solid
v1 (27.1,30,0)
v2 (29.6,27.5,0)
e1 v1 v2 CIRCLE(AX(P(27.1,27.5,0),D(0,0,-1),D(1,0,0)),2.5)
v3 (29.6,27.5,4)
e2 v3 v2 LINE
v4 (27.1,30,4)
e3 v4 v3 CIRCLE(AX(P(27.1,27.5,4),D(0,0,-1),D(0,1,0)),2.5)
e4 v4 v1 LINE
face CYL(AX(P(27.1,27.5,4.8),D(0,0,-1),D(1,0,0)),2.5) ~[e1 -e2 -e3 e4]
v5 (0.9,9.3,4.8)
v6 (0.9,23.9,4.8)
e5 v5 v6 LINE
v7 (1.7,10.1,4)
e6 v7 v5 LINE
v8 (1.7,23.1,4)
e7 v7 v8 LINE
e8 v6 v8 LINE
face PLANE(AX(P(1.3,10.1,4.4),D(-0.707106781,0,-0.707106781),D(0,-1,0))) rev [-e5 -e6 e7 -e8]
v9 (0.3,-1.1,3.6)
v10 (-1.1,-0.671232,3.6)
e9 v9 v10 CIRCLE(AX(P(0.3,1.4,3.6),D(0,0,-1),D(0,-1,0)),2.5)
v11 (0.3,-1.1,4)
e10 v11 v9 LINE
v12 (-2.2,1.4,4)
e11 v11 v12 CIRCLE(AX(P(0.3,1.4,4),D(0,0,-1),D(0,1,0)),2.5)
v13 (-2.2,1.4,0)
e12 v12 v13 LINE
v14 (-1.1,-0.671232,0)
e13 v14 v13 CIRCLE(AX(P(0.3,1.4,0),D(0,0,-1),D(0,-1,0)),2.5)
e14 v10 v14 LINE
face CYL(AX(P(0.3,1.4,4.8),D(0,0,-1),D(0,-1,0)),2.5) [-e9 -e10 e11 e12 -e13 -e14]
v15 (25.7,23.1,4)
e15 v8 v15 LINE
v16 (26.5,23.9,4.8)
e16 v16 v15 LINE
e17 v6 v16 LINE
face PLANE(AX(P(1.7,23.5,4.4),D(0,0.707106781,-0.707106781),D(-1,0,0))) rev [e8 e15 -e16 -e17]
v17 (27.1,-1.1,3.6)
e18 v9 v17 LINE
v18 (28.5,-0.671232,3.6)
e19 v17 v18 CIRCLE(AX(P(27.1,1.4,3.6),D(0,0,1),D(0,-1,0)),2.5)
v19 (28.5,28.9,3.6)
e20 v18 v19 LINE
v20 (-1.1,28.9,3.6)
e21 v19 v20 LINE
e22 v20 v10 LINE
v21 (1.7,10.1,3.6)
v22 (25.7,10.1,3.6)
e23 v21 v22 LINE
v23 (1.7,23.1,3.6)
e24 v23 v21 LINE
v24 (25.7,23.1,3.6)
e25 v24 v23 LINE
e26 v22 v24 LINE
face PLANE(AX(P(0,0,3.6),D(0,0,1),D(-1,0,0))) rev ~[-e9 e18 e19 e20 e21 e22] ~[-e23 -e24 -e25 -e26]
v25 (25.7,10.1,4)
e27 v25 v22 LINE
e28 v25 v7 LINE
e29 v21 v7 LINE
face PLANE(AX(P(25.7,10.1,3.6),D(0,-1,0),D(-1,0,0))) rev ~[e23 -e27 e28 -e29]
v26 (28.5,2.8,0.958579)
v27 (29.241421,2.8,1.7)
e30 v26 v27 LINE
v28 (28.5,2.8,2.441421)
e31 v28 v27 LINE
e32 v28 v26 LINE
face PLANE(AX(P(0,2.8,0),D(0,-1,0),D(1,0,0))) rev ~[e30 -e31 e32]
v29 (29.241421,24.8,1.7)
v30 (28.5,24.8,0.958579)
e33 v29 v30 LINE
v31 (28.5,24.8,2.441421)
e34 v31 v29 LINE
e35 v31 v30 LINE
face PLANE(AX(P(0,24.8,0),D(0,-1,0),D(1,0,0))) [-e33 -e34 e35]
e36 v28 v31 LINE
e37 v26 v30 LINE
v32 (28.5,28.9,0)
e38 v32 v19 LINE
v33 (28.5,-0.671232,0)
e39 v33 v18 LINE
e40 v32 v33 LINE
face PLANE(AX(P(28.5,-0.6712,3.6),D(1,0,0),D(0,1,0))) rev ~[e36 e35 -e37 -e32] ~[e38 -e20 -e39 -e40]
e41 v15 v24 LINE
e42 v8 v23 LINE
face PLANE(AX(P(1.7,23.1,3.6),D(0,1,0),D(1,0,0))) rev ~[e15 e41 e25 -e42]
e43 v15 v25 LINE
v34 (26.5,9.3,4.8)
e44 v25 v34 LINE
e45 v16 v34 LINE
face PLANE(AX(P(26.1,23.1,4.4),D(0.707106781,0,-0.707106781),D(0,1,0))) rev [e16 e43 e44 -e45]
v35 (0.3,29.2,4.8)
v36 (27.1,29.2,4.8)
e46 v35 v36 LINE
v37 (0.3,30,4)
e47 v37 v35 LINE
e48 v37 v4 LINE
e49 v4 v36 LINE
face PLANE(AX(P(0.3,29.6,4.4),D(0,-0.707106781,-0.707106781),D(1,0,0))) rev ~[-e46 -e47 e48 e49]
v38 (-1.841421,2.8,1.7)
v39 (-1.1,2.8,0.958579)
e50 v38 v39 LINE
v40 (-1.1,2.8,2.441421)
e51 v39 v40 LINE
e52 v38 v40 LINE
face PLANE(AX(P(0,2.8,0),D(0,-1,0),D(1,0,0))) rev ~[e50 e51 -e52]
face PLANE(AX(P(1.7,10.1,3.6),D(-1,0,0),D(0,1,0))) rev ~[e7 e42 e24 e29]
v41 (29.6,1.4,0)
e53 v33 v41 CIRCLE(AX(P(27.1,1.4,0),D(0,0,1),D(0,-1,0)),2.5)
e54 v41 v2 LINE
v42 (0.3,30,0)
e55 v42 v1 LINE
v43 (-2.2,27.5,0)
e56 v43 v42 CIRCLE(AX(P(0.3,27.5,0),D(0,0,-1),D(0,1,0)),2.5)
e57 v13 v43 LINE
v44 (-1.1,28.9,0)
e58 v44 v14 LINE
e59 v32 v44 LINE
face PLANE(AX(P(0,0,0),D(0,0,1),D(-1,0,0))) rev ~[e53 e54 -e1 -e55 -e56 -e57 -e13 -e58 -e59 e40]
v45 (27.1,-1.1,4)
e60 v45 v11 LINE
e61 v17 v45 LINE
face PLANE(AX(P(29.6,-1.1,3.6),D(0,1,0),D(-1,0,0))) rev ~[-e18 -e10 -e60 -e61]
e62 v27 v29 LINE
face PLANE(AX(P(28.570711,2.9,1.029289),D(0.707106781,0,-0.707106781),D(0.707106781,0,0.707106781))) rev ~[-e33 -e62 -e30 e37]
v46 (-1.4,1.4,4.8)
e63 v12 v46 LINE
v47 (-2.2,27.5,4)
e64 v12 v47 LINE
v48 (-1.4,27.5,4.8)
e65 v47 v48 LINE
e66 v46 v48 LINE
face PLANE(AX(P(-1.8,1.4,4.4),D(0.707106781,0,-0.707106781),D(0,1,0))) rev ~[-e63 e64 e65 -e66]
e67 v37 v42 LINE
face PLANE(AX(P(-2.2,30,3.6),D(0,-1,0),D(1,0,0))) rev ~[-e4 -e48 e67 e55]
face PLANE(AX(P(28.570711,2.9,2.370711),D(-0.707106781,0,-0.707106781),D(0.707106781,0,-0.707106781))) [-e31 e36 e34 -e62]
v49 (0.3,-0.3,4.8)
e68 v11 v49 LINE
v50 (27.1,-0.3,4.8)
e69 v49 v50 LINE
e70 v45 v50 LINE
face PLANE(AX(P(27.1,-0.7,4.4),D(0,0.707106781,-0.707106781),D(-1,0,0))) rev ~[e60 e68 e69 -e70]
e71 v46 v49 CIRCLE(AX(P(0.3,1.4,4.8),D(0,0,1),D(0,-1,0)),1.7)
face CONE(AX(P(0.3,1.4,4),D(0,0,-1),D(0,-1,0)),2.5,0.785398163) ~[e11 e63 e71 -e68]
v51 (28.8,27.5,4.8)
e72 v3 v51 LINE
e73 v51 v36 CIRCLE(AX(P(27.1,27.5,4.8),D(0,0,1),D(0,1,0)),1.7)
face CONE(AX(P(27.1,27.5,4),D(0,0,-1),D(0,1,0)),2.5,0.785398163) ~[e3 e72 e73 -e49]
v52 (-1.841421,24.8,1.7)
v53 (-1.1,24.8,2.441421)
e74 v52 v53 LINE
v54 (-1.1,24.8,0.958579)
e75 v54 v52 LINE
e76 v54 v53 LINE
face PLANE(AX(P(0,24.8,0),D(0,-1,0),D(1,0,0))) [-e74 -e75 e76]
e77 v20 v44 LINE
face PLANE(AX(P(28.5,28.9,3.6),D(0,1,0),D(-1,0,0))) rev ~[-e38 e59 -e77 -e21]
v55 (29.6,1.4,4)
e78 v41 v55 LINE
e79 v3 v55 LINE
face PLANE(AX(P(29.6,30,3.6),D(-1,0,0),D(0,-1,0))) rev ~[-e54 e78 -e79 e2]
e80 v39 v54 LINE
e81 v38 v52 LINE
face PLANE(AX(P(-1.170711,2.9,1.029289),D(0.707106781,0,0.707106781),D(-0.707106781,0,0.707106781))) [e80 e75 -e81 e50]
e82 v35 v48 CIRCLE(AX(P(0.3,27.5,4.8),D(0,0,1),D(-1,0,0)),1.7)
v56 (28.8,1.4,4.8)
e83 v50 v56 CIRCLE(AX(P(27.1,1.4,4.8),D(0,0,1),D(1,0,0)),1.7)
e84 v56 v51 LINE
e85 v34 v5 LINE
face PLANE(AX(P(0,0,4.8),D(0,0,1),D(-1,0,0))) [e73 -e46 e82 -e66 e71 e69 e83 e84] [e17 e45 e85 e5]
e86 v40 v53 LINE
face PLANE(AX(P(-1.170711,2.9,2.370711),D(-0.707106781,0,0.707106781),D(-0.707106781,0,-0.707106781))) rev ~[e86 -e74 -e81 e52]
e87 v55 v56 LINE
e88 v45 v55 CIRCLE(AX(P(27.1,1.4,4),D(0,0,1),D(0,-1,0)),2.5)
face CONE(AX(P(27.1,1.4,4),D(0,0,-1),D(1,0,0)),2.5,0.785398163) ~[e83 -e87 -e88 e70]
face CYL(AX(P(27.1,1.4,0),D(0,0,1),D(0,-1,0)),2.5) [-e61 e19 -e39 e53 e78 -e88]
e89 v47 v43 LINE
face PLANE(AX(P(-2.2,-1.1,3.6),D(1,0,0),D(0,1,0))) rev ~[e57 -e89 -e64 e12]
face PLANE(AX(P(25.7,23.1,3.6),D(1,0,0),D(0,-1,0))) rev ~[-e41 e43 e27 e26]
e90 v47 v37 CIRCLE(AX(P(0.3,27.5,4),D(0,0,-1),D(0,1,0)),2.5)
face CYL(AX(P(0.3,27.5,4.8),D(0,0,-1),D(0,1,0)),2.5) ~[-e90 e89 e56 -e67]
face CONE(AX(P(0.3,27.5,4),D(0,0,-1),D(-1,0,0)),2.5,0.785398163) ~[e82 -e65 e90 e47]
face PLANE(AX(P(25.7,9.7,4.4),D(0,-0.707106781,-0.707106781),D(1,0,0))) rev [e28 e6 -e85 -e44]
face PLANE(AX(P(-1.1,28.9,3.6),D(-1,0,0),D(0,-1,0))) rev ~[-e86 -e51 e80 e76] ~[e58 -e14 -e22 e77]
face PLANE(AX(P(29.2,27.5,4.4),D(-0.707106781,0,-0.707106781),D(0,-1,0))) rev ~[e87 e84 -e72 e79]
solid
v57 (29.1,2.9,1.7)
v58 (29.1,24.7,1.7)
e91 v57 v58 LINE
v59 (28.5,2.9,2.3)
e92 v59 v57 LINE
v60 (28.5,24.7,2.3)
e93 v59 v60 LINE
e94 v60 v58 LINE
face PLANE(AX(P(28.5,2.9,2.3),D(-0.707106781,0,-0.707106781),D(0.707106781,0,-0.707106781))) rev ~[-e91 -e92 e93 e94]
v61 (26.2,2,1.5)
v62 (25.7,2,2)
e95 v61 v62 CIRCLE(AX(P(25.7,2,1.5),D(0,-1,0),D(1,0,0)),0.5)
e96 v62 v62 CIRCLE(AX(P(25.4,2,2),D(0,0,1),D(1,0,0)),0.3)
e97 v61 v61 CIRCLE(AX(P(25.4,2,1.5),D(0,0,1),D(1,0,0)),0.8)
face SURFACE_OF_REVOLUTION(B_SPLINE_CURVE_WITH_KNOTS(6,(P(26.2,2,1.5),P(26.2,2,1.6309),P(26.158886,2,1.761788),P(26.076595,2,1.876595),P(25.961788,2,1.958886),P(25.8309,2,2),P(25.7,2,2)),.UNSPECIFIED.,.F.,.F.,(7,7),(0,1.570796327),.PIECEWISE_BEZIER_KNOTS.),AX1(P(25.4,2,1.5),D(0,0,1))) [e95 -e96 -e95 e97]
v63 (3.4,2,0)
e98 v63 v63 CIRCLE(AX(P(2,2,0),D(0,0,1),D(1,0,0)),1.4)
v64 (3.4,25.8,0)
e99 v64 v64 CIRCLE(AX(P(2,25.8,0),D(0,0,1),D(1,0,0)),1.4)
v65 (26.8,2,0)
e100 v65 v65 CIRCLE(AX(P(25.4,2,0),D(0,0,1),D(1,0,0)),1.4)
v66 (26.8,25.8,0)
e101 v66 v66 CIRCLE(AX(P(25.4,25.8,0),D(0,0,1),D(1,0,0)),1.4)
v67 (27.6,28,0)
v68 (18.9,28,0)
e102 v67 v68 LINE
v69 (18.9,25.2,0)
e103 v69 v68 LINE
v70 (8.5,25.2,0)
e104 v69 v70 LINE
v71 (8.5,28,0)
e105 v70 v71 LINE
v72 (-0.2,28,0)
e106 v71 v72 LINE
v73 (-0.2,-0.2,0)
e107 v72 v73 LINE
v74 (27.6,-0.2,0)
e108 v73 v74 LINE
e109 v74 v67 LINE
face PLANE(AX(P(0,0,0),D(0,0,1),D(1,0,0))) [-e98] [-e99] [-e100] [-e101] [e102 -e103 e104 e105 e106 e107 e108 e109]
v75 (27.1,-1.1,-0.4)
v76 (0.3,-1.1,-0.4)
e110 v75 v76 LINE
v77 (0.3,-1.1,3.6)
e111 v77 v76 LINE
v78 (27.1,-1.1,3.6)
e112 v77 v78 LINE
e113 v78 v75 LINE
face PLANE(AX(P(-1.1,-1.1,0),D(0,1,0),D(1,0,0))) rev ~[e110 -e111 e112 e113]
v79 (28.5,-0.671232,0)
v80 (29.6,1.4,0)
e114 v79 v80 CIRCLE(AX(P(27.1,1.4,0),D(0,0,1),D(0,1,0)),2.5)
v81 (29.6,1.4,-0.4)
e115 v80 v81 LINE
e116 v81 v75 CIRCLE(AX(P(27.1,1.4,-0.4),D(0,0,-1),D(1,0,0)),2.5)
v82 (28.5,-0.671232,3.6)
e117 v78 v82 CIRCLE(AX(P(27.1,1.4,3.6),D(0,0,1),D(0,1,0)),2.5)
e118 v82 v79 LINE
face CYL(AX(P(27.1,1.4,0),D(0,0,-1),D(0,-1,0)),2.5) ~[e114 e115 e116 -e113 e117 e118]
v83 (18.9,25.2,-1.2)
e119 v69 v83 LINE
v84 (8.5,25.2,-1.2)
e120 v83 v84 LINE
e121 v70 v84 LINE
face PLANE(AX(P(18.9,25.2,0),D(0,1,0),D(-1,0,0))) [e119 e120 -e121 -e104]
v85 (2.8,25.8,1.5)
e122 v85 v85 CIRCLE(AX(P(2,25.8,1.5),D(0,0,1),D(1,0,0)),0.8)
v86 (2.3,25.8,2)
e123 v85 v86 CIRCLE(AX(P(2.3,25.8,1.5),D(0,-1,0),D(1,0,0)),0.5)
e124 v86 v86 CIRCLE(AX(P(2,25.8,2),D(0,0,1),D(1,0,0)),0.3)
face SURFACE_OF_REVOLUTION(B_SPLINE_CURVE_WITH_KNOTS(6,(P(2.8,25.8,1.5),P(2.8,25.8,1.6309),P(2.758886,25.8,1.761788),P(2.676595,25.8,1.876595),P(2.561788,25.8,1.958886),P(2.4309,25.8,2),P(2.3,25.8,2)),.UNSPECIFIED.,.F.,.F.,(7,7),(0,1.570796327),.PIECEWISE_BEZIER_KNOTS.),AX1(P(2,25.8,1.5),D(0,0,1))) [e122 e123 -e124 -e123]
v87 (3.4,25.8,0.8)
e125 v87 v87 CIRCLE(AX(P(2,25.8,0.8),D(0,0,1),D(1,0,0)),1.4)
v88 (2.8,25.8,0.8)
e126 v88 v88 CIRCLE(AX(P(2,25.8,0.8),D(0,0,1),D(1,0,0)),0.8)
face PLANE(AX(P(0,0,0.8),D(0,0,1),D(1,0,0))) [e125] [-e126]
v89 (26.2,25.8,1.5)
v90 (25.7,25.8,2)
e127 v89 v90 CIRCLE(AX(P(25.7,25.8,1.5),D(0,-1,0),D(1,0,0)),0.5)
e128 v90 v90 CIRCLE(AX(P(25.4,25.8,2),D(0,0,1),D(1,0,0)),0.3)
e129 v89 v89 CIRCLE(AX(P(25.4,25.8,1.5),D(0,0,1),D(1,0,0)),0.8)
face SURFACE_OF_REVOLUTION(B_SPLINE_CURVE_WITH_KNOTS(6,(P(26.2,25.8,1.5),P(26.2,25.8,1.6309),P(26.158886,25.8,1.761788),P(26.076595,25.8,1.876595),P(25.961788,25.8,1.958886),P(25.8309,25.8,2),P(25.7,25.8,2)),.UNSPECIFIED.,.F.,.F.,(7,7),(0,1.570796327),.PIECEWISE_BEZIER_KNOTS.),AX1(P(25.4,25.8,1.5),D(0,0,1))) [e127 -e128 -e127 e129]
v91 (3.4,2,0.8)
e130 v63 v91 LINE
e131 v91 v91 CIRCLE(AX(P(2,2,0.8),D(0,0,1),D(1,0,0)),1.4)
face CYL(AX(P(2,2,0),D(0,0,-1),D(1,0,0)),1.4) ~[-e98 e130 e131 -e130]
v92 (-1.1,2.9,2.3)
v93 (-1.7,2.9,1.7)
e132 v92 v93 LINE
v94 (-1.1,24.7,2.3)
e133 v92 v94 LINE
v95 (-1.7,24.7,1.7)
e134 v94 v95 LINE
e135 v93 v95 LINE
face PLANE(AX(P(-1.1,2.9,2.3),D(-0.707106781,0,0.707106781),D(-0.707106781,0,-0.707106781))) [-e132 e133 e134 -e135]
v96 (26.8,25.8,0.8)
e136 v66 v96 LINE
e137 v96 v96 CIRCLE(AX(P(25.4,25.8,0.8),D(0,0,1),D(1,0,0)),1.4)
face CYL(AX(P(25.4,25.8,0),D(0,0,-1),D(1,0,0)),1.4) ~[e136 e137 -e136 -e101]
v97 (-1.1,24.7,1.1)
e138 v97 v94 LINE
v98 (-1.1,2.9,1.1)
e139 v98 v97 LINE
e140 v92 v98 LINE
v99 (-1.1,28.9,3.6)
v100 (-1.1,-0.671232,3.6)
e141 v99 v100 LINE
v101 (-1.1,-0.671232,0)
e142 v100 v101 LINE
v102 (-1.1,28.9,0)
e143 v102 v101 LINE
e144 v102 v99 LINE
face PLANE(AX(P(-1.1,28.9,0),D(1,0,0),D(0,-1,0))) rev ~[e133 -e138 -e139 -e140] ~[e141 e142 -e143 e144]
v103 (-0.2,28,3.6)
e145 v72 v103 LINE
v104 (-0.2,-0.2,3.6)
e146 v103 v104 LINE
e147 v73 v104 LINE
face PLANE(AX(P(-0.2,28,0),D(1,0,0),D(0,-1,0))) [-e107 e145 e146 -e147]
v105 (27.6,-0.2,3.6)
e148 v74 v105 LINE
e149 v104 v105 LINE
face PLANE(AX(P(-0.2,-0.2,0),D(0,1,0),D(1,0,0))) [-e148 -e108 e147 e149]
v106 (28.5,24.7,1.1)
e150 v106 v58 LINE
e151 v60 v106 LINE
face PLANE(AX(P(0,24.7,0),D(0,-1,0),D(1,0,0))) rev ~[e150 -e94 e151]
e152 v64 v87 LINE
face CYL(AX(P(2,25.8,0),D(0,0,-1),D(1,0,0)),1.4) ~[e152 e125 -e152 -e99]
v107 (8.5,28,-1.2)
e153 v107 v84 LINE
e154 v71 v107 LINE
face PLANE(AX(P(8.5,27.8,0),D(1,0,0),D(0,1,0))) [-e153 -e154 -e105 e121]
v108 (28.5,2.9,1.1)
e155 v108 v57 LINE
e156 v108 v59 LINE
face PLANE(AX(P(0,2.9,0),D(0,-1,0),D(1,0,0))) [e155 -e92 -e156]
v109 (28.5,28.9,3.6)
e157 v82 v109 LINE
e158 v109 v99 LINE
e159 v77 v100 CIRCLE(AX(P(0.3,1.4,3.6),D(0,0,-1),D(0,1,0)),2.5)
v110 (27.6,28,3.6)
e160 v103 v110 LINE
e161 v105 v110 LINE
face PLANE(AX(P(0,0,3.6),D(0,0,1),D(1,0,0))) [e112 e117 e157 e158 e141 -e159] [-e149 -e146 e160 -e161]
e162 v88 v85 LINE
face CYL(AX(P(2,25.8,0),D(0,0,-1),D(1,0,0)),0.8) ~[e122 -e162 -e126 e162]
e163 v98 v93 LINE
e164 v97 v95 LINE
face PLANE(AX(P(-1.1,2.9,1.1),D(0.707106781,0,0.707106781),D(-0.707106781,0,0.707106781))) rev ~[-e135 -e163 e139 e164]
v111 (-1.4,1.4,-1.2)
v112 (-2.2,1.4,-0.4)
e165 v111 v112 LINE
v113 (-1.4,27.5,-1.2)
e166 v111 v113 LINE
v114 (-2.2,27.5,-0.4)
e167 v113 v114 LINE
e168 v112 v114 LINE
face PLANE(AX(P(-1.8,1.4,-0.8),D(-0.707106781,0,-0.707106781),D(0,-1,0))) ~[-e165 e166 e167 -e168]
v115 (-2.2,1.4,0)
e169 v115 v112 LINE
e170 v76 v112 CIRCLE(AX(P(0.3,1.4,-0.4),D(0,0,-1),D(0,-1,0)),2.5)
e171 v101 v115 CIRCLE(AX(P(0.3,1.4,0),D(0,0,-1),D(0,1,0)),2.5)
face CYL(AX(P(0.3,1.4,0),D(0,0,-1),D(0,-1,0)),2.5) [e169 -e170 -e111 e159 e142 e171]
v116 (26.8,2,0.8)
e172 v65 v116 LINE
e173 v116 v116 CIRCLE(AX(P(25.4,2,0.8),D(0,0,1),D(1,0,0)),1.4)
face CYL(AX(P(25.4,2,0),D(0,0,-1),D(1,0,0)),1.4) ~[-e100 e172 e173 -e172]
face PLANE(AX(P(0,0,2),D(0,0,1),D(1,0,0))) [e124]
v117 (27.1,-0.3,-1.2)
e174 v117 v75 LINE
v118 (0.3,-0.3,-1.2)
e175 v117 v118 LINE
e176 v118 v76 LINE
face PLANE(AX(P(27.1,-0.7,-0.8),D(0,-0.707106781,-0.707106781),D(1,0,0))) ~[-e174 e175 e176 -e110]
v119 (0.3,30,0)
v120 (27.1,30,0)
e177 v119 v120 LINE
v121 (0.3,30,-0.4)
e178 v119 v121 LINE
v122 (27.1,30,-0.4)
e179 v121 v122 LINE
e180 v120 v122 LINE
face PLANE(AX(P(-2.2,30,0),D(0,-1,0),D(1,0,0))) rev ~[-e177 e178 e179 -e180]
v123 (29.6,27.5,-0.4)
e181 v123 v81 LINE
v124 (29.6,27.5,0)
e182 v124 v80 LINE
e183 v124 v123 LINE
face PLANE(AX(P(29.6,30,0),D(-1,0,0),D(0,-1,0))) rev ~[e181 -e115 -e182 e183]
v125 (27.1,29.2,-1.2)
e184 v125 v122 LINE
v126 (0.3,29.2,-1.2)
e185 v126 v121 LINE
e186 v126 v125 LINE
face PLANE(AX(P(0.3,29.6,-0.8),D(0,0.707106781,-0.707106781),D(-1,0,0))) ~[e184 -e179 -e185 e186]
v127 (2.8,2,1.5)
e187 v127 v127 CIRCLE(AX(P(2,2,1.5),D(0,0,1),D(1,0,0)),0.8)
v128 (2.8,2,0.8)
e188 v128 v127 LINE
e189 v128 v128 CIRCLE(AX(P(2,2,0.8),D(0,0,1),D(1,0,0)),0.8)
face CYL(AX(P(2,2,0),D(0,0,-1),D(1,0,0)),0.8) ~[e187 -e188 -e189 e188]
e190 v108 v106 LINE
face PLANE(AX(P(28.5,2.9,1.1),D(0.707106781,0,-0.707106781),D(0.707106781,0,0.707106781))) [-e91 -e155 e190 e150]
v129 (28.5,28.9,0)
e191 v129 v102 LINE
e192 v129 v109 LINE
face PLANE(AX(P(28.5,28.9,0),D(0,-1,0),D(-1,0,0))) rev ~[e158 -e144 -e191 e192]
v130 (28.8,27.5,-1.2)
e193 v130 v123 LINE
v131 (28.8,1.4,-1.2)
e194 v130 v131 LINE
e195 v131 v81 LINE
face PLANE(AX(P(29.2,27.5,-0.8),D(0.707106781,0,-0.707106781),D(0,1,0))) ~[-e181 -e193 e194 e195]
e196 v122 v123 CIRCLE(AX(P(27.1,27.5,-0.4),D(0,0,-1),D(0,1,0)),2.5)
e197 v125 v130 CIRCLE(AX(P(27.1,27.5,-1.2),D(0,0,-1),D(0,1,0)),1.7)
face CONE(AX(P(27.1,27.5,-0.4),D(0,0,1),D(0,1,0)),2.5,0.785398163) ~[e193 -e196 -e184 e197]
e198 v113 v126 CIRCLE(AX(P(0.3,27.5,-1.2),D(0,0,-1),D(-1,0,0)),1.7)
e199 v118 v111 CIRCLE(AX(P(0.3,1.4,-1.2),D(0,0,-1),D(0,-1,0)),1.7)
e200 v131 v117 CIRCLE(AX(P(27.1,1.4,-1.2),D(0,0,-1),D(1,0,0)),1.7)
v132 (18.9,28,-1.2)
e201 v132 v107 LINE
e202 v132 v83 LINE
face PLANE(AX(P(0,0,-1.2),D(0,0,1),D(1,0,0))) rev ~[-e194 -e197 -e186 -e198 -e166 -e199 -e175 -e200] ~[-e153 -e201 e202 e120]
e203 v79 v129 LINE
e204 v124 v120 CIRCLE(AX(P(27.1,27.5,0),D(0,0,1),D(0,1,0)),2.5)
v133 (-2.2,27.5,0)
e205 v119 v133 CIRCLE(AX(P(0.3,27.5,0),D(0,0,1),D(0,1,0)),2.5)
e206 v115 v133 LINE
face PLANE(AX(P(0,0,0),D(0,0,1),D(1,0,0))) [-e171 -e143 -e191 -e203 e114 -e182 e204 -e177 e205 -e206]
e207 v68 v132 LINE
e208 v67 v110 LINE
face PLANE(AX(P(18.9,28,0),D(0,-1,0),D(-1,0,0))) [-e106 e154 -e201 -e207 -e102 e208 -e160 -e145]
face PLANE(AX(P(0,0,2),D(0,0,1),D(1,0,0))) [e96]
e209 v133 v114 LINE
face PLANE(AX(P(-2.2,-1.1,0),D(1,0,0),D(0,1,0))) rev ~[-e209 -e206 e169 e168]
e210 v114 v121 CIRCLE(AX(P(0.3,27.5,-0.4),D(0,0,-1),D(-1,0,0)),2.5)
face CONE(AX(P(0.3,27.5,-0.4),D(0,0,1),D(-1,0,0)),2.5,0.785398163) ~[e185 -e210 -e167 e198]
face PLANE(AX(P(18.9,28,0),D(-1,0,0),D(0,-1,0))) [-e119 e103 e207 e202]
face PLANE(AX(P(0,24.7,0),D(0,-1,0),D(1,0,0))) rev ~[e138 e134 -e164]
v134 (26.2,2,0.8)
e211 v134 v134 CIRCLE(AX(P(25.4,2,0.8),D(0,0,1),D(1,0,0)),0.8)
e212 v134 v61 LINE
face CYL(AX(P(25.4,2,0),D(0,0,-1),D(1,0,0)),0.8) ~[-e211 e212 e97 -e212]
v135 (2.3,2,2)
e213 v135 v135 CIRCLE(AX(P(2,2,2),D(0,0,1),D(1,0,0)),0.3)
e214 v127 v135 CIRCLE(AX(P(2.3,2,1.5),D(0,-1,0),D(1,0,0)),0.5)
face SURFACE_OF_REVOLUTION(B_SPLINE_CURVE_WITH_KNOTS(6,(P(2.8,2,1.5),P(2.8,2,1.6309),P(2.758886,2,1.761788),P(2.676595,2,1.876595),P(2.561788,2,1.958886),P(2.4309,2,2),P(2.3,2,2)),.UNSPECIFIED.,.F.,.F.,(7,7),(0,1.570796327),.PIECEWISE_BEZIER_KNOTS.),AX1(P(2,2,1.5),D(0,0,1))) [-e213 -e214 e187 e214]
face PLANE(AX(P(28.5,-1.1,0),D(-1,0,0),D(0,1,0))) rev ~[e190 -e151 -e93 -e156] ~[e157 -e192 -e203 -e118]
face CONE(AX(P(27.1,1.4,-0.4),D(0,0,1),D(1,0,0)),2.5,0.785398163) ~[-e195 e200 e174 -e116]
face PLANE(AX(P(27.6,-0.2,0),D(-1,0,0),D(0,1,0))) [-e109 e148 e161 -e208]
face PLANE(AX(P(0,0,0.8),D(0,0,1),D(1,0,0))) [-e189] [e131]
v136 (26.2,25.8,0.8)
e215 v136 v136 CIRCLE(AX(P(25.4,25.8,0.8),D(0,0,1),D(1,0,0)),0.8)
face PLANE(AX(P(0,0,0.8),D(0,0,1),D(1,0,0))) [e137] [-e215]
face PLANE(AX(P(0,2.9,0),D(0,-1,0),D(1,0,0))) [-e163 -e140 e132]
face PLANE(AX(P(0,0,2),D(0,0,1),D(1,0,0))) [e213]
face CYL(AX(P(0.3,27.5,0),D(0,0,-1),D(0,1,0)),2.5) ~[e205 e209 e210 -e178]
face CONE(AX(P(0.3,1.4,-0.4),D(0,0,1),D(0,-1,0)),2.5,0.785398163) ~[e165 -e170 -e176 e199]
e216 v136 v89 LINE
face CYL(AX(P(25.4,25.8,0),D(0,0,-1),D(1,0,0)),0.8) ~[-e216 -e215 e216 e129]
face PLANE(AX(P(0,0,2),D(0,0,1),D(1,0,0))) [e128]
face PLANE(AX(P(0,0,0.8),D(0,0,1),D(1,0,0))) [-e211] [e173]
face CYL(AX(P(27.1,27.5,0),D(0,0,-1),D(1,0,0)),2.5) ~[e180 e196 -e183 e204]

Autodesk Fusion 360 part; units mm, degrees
sketch "Screen PCB" plane through (0, 0, 0) normal (0, 0, 1) x (1, 0, 0)
  line L0 (0, 0) -> (27.4, 0)
  line L1 (27.4, 0) -> (27.4, 27.8)
  line L2 (27.4, 27.8) -> (0, 27.8)
  line L3 (0, 27.8) -> (0, 0)
  line L4 (8.7, 27.8) -> (18.7, 27.8)
  line L5 (18.7, 27.8) -> (18.7, 25.4)
  line L6 (18.7, 25.4) -> (8.7, 25.4)
  line L7 (8.7, 25.4) -> (8.7, 27.8)
  line L8 (1.4, 23.3) -> (26, 23.3)
  line L9 (26, 23.3) -> (26, 6.9)
  line L10 (26, 6.9) -> (1.4, 6.9)
  line L11 (1.4, 6.9) -> (1.4, 23.3)
  line L12 (13.7, 6.9) -> (13.7, 0) construction
  circle A0 centre (2, 2) radius 1
  circle A1 centre (25.4, 2) radius 1
  circle A2 centre (2, 25.8) radius 1
  circle A3 centre (25.4, 25.8) radius 1
  point P0 (13.7, 6.9)
  point P1 (13.7, 0)
  dimension "d1" = 27.4
  dimension "d2" = 27.8
  dimension "d14" = 10
  dimension "d15" = 2.4
  dimension "d16" = 24.6
  dimension "d17" = 16.4
  dimension "d18" = 4.5
  dimension "d19" = 1.4
  dimension "d20" = 6.9
  dimension "d21" = 2
  dimension "d22" = 2
  dimension "d23" = 2
  dimension "d26" = 23.4
  dimension "d27" = 23.8
sketch "Case Base" plane through (0, 0, 0) normal (0, 0, 1) x (1, 0, 0)
  line L0 (27.4, 27.8) -> (0, 27.8)
  line L1 (27.4, 0) -> (27.4, 27.8)
  line L2 (0, 27.8) -> (0, 0)
  line L3 (0, 0) -> (27.4, 0)
  line L4 (-0.2, -0.2) -> (27.6, -0.2)
  line L5 (27.6, -0.2) -> (27.6, 28)
  line L6 (27.6, 28) -> (-0.2, 28)
  line L7 (-0.2, 28) -> (-0.2, -0.2)
  circle A0 centre (2, 25.8) radius 1
  circle A1 centre (25.4, 25.8) radius 1
  circle A2 centre (25.4, 2) radius 1
  circle A3 centre (2, 2) radius 1
  circle A4 centre (2, 25.8) radius 0.8
  circle A5 centre (25.4, 25.8) radius 0.8
  circle A6 centre (25.4, 2) radius 0.8
  circle A7 centre (2, 2) radius 0.8
  line L8 (28.5, 28.9) -> (-1.1, 28.9)
  line L9 (-1.1, 28.9) -> (-1.1, -1.1)
  line L10 (-1.1, -1.1) -> (28.5, -1.1)
  line L11 (28.5, -1.1) -> (28.5, 28.9)
  circle A8 centre (2, 25.8) radius 1.4
  circle A9 centre (25.4, 25.8) radius 1.4
  circle A10 centre (25.4, 2) radius 1.4
  circle A11 centre (2, 2) radius 1.4
  line L12 (18.7, 27.8) -> (18.7, 25.4)
  line L13 (18.7, 25.4) -> (8.7, 25.4)
  line L14 (8.7, 25.4) -> (8.7, 27.8)
  line L15 (8.7, 27.8) -> (18.7, 27.8)
  line L16 (8.5, 28) -> (18.9, 28)
  line L17 (18.9, 28) -> (18.9, 25.2)
  line L18 (18.9, 25.2) -> (8.5, 25.2)
  line L19 (8.5, 25.2) -> (8.5, 28)
  line L20 (-2.2, 30) -> (29.6, 30)
  line L21 (29.6, 30) -> (29.6, -1.1)
  line L22 (29.6, -1.1) -> (-2.2, -1.1)
  line L23 (-2.2, -1.1) -> (-2.2, 30)
  point P0 (2, 25.8)
  dimension "d28" = 0.2
  dimension "d33" = 1.1
  dimension "d37" = 0.4
  dimension "d38" = 0.4
  dimension "d39" = 0.4
  dimension "d40" = 0.4
  dimension "d53" = 1.1
  dimension "d54" = 1.1
extrude "Extrude3" add sketch "Case Base" against normal blind 1.2 contours L0 L1 L2 L3 L4 L5 L6 L7 L17 L19 | L0 L1 L2 L3 L17 L18 L19 | A0 | A1 | A2 | A3 | A4 | A5 | A6 | A7 | L8 L9 L10 L11 L22 | L8 L9 L11 L20 L21 L22 L23 | A8 | A9 | A10 | A11 makes body 1
extrude "Extrude1" add sketch "Case Base" along normal blind 0.8 contours A0 | A1 | A2 | A3 | A8 | A9 | A10 | A11 bodies 1
extrude "Extrude2" add sketch "Case Base" along normal blind 2 contours A4 | A5 | A6 | A7 bodies 1
extrude "Extrude4" add sketch "Case Base" along normal blind 3.6 contours L8 L9 L10 L11 L22 bodies 1
fillet "Fillet1" radius 0.5 4 faces at (1.8444, 25.6186, 2) (25.5333, 26.1881, 2) (2.4109, 1.7341, 2) (25.6548, 1.9214, 2) on bodies 1
copy_body "Body->Comp1" bodies 1 removing the originals makes body 2 in component "Base"
sketch "Sketch3" plane through (0, -1.1, 0) normal (0, -1, 0) x (1, 0, 0)
  line L0 (28.5, 3.6) -> (-1.1, 3.6)
  line L1 (29.6, 0) -> (28.5, 0)
  line L2 (28.5, 0) -> (28.5, 3.6)
  line L3 (-1.1, 3.6) -> (-1.1, 0)
  line L4 (-1.1, 0) -> (-2.2, 0)
  line L5 (-2.2, 0) -> (-2.2, -1.2)
  line L6 (-2.2, -1.2) -> (29.6, -1.2)
  line L7 (29.6, -1.2) -> (29.6, 0)
  line L8 (-1.1, 1.7) -> (-1.7, 1.7) construction
  line L9 (-1.1, 1.7) -> (-1.1, 2.3)
  line L10 (-1.1, 2.3) -> (-1.7, 1.7)
  line L11 (-1.1, 1.7) -> (-1.1, 1.1)
  line L12 (-1.1, 1.1) -> (-1.7, 1.7)
  line L13 (13.7, 3.6) -> (13.7, -1.2) construction
  line L14 (28.5, 1.7) -> (28.5, 2.3)
  line L15 (28.5, 1.7) -> (28.5, 1.1)
  line L16 (28.5, 2.3) -> (29.1, 1.7)
  line L17 (28.5, 1.7) -> (29.1, 1.7) construction
  line L18 (28.5, 1.1) -> (29.1, 1.7)
  dimension "d58" = 0.6
  dimension "d59" = 0.6
  dimension "d60" = 0.6
fillet "Fillet1'" radius 2.5 4 edges at (-2.2, -1.1, -0.6) (29.6, -1.1, -0.6) (29.6, 30, -0.6) (-2.2, 30, -0.6) on bodies 2 in component "Base"
chamfer "Chamfer1" distance 0.8 angle 45 8 edges at (13.7, -1.1, -1.2) (-1.4678, -0.3678, -1.2) (-2.2, 14.45, -1.2) (-1.4678, 29.2678, -1.2) (13.7, 30, -1.2) (28.8678, 29.2678, -1.2) (29.6, 14.45, -1.2) (28.8678, -0.3678, -1.2) on bodies 2 in component "Base"
extrude "Extrude1'" add sketch "Sketch3" along normal blind -25.8 and the other way blind 4 contours L2 L14 L15 L16 L18 | L3 L9 L10 L11 L12 bodies 2 in component "Base"
sketch "Sketch1" plane through (0, 0, 3.6) normal (0, 0, 1) x (-1, 0, 0) in component "Lid"
  line L0 (0.2, 0.2) -> (0.2, -28)
  line L1 (0.2, -28) -> (-27.6, -28)
  line L2 (-27.6, -28) -> (-27.6, 0.2)
  line L3 (-27.6, 0.2) -> (0.2, 0.2)
  arc A0 (-27.1, 1.1) -> (-28.5, 0.6712) centre (-27.1, -1.4) ccw
  line L4 (-28.5, 0.6712) -> (-28.5, -28.9)
  line L5 (-28.5, -28.9) -> (1.1, -28.9)
  line L6 (1.1, -28.9) -> (1.1, 0.6712)
  arc A1 (1.1, 0.6712) -> (-0.3, 1.1) centre (-0.3, -1.4) ccw
  line L7 (-0.3, 1.1) -> (-27.1, 1.1)
  line L8 (-29.6, 1.1) -> (2.2, 1.1)
  line L9 (2.2, 1.1) -> (2.2, -30)
  line L10 (2.2, -30) -> (-29.6, -30)
  line L11 (-29.6, -30) -> (-29.6, 1.1)
  line L12 (1.1, -28.9) -> (1.1, 1.1)
  line L13 (-28.5, -28.9) -> (1.1, -28.9)
  line L14 (-28.5, 1.1) -> (-28.5, -28.9)
  line L15 (2.2, -30) -> (-29.6, -30)
  line L16 (-29.6, -30) -> (-29.6, 1.1)
  line L17 (-29.6, 1.1) -> (2.2, 1.1)
  line L18 (2.2, 1.1) -> (2.2, -30)
  line L19 (-26, -6.9) -> (-1.4, -6.9)
  line L20 (-1.4, -6.9) -> (-1.4, -23.3)
  line L21 (-1.4, -23.3) -> (-26, -23.3)
  line L22 (-26, -23.3) -> (-26, -6.9)
  line L23 (-1.7, -23.1) -> (-25.7, -23.1)
  line L24 (-25.7, -23.1) -> (-25.7, -10.1)
  line L25 (-25.7, -10.1) -> (-1.7, -10.1)
  line L26 (-1.7, -10.1) -> (-1.7, -23.1)
  line L27 (-13.7, -23.3) -> (-13.7, -23.1) construction
  point P0 (-13.7, -23.1)
  point P1 (-13.7, -23.3)
  dimension "d65" = 24
  dimension "d66" = 13
  dimension "d67" = 0.2
extrude "Extrude1''" add sketch "Sketch1" against normal blind 3.6 separate body contours L4 L5 L6 L8 L9 L10 L11 L12 L13 L14 L15 L16 L17 L18 makes body 3 in component "Lid"
extrude "Extrude2'" add sketch "Sketch1" along normal blind 1.2 contours L0 L1 L2 L3 | A0 L4 L5 L6 A1 L7 L8 L12 L13 L14 L17 | A0 L8 L14 L17 | L4 L5 L6 L8 L9 L10 L11 L12 L13 L14 L15 L16 L17 L18 | A1 L8 L12 L17 | L19 L20 L21 L22 bodies 3 in component "Lid"
extrude "Extrude3'" cut sketch "Sketch3" along normal blind -25.8 and the other way blind 4 contours L2 L14 L15 L16 L18 | L3 L9 L10 L11 L12 bodies 3 in component "Lid"
fillet "Fillet1''" radius 2.5 4 edges at (29.6, -1.1, 2.4) (-2.2, -1.1, 2.4) (29.6, 30, 2.4) (-2.2, 30, 2.4) on bodies 3 in component "Lid"
chamfer "Chamfer1'" distance 0.8 angle 45 1 faces at (17.7, 2.6333, 4.8) on bodies 3 in component "Lid"
move_face "OffsetFaces1" offset -0.1 4 faces at (-1.3, 10.1667, 2.1) (-1.3, 10.1667, 1.3) (-1.3, 2.9, 1.7) (-1.3, 24.7, 1.7) on bodies 3 in component "Lid"
move_face "OffsetFaces2" offset -0.1 4 faces at (28.7, 24.7, 1.7) (28.7, 10.1667, 1.3) (28.7, 10.1667, 2.1) (28.7, 2.9, 1.7) on bodies 3 in component "Lid"
component "Base" placed x (1, 0, 0) y (0, 1, 0) z (0, 0, 1) at (0, 0, 0)
component "Lid" placed x (1, 0, 0) y (0, 1, 0) z (0, 0, 1) at (0, 0, 0)
equation "d1 = board_width"
equation "d2 = board_height"
equation "board_width = 27.4 mm"
equation "board_height = 27.8 mm"
equation "tollerance = 0.2 mm"
equation "board_depth = 1.2 mm"
equation "hole_diameter = 2.0 mm"
equation "hole_to_edge = 1.0 mm"
equation "screen_width = 24.6 mm"
equation "screen_height = 16.4 mm"
equation "screen_and_board_depth = 2.8 mm"
equation "pins_width = 10.0 mm"
equation "pins_height = 2.4 mm"
equation "d14 = pins_width"
equation "d15 = pins_height"
equation "d16 = screen_width"
equation "d17 = screen_height"
equation "d21 = hole_diameter"
equation "d22 = hole_to_edge + ( hole_diameter / 2 )"
equation "d23 = hole_to_edge + ( hole_diameter / 2 )"
equation "d26 = board_width - hole_diameter - ( 2 * hole_to_edge )"
equation "d27 = board_height - hole_diameter - ( 2 * hole_to_edge )"
equation "d28 = tollerance"
equation "d29 = -tollerance"
equation "d30 = -tollerance"
equation "d31 = -tollerance"
equation "d32 = -tollerance"
equation "d33 = inner_wall_width + tollerance"
equation "inner_wall_width = 0.9 mm"
equation "outer_wall_width = 1.1 mm"
equation "base_thickness = 1.2 mm"
equation "d41 = -tollerance"
equation "riser = 0.8 mm"
equation "d43 = riser"
equation "d45 = riser + board_depth"
equation "d47 = -base_thickness"
equation "d49 = riser + screen_and_board_depth"
equation "d52 = hole_diameter / 4"
equation "d53 = outer_wall_width"
equation "d54 = outer_wall_width"
equation "d61 = -( board_height - inner_wall_width - outer_wall_width )"
equation "d63 = ( inner_wall_width + outer_wall_width ) * 2"
equation "d68 = -( screen_and_board_depth + riser )"
equation "d70 = board_depth"
equation "d72 = -( board_height - inner_wall_width - outer_wall_width )"
equation "d74 = ( inner_wall_width + outer_wall_width ) * 2"
equation "d79 = -tollerance / 2"
equation "d80 = -tollerance / 2"
